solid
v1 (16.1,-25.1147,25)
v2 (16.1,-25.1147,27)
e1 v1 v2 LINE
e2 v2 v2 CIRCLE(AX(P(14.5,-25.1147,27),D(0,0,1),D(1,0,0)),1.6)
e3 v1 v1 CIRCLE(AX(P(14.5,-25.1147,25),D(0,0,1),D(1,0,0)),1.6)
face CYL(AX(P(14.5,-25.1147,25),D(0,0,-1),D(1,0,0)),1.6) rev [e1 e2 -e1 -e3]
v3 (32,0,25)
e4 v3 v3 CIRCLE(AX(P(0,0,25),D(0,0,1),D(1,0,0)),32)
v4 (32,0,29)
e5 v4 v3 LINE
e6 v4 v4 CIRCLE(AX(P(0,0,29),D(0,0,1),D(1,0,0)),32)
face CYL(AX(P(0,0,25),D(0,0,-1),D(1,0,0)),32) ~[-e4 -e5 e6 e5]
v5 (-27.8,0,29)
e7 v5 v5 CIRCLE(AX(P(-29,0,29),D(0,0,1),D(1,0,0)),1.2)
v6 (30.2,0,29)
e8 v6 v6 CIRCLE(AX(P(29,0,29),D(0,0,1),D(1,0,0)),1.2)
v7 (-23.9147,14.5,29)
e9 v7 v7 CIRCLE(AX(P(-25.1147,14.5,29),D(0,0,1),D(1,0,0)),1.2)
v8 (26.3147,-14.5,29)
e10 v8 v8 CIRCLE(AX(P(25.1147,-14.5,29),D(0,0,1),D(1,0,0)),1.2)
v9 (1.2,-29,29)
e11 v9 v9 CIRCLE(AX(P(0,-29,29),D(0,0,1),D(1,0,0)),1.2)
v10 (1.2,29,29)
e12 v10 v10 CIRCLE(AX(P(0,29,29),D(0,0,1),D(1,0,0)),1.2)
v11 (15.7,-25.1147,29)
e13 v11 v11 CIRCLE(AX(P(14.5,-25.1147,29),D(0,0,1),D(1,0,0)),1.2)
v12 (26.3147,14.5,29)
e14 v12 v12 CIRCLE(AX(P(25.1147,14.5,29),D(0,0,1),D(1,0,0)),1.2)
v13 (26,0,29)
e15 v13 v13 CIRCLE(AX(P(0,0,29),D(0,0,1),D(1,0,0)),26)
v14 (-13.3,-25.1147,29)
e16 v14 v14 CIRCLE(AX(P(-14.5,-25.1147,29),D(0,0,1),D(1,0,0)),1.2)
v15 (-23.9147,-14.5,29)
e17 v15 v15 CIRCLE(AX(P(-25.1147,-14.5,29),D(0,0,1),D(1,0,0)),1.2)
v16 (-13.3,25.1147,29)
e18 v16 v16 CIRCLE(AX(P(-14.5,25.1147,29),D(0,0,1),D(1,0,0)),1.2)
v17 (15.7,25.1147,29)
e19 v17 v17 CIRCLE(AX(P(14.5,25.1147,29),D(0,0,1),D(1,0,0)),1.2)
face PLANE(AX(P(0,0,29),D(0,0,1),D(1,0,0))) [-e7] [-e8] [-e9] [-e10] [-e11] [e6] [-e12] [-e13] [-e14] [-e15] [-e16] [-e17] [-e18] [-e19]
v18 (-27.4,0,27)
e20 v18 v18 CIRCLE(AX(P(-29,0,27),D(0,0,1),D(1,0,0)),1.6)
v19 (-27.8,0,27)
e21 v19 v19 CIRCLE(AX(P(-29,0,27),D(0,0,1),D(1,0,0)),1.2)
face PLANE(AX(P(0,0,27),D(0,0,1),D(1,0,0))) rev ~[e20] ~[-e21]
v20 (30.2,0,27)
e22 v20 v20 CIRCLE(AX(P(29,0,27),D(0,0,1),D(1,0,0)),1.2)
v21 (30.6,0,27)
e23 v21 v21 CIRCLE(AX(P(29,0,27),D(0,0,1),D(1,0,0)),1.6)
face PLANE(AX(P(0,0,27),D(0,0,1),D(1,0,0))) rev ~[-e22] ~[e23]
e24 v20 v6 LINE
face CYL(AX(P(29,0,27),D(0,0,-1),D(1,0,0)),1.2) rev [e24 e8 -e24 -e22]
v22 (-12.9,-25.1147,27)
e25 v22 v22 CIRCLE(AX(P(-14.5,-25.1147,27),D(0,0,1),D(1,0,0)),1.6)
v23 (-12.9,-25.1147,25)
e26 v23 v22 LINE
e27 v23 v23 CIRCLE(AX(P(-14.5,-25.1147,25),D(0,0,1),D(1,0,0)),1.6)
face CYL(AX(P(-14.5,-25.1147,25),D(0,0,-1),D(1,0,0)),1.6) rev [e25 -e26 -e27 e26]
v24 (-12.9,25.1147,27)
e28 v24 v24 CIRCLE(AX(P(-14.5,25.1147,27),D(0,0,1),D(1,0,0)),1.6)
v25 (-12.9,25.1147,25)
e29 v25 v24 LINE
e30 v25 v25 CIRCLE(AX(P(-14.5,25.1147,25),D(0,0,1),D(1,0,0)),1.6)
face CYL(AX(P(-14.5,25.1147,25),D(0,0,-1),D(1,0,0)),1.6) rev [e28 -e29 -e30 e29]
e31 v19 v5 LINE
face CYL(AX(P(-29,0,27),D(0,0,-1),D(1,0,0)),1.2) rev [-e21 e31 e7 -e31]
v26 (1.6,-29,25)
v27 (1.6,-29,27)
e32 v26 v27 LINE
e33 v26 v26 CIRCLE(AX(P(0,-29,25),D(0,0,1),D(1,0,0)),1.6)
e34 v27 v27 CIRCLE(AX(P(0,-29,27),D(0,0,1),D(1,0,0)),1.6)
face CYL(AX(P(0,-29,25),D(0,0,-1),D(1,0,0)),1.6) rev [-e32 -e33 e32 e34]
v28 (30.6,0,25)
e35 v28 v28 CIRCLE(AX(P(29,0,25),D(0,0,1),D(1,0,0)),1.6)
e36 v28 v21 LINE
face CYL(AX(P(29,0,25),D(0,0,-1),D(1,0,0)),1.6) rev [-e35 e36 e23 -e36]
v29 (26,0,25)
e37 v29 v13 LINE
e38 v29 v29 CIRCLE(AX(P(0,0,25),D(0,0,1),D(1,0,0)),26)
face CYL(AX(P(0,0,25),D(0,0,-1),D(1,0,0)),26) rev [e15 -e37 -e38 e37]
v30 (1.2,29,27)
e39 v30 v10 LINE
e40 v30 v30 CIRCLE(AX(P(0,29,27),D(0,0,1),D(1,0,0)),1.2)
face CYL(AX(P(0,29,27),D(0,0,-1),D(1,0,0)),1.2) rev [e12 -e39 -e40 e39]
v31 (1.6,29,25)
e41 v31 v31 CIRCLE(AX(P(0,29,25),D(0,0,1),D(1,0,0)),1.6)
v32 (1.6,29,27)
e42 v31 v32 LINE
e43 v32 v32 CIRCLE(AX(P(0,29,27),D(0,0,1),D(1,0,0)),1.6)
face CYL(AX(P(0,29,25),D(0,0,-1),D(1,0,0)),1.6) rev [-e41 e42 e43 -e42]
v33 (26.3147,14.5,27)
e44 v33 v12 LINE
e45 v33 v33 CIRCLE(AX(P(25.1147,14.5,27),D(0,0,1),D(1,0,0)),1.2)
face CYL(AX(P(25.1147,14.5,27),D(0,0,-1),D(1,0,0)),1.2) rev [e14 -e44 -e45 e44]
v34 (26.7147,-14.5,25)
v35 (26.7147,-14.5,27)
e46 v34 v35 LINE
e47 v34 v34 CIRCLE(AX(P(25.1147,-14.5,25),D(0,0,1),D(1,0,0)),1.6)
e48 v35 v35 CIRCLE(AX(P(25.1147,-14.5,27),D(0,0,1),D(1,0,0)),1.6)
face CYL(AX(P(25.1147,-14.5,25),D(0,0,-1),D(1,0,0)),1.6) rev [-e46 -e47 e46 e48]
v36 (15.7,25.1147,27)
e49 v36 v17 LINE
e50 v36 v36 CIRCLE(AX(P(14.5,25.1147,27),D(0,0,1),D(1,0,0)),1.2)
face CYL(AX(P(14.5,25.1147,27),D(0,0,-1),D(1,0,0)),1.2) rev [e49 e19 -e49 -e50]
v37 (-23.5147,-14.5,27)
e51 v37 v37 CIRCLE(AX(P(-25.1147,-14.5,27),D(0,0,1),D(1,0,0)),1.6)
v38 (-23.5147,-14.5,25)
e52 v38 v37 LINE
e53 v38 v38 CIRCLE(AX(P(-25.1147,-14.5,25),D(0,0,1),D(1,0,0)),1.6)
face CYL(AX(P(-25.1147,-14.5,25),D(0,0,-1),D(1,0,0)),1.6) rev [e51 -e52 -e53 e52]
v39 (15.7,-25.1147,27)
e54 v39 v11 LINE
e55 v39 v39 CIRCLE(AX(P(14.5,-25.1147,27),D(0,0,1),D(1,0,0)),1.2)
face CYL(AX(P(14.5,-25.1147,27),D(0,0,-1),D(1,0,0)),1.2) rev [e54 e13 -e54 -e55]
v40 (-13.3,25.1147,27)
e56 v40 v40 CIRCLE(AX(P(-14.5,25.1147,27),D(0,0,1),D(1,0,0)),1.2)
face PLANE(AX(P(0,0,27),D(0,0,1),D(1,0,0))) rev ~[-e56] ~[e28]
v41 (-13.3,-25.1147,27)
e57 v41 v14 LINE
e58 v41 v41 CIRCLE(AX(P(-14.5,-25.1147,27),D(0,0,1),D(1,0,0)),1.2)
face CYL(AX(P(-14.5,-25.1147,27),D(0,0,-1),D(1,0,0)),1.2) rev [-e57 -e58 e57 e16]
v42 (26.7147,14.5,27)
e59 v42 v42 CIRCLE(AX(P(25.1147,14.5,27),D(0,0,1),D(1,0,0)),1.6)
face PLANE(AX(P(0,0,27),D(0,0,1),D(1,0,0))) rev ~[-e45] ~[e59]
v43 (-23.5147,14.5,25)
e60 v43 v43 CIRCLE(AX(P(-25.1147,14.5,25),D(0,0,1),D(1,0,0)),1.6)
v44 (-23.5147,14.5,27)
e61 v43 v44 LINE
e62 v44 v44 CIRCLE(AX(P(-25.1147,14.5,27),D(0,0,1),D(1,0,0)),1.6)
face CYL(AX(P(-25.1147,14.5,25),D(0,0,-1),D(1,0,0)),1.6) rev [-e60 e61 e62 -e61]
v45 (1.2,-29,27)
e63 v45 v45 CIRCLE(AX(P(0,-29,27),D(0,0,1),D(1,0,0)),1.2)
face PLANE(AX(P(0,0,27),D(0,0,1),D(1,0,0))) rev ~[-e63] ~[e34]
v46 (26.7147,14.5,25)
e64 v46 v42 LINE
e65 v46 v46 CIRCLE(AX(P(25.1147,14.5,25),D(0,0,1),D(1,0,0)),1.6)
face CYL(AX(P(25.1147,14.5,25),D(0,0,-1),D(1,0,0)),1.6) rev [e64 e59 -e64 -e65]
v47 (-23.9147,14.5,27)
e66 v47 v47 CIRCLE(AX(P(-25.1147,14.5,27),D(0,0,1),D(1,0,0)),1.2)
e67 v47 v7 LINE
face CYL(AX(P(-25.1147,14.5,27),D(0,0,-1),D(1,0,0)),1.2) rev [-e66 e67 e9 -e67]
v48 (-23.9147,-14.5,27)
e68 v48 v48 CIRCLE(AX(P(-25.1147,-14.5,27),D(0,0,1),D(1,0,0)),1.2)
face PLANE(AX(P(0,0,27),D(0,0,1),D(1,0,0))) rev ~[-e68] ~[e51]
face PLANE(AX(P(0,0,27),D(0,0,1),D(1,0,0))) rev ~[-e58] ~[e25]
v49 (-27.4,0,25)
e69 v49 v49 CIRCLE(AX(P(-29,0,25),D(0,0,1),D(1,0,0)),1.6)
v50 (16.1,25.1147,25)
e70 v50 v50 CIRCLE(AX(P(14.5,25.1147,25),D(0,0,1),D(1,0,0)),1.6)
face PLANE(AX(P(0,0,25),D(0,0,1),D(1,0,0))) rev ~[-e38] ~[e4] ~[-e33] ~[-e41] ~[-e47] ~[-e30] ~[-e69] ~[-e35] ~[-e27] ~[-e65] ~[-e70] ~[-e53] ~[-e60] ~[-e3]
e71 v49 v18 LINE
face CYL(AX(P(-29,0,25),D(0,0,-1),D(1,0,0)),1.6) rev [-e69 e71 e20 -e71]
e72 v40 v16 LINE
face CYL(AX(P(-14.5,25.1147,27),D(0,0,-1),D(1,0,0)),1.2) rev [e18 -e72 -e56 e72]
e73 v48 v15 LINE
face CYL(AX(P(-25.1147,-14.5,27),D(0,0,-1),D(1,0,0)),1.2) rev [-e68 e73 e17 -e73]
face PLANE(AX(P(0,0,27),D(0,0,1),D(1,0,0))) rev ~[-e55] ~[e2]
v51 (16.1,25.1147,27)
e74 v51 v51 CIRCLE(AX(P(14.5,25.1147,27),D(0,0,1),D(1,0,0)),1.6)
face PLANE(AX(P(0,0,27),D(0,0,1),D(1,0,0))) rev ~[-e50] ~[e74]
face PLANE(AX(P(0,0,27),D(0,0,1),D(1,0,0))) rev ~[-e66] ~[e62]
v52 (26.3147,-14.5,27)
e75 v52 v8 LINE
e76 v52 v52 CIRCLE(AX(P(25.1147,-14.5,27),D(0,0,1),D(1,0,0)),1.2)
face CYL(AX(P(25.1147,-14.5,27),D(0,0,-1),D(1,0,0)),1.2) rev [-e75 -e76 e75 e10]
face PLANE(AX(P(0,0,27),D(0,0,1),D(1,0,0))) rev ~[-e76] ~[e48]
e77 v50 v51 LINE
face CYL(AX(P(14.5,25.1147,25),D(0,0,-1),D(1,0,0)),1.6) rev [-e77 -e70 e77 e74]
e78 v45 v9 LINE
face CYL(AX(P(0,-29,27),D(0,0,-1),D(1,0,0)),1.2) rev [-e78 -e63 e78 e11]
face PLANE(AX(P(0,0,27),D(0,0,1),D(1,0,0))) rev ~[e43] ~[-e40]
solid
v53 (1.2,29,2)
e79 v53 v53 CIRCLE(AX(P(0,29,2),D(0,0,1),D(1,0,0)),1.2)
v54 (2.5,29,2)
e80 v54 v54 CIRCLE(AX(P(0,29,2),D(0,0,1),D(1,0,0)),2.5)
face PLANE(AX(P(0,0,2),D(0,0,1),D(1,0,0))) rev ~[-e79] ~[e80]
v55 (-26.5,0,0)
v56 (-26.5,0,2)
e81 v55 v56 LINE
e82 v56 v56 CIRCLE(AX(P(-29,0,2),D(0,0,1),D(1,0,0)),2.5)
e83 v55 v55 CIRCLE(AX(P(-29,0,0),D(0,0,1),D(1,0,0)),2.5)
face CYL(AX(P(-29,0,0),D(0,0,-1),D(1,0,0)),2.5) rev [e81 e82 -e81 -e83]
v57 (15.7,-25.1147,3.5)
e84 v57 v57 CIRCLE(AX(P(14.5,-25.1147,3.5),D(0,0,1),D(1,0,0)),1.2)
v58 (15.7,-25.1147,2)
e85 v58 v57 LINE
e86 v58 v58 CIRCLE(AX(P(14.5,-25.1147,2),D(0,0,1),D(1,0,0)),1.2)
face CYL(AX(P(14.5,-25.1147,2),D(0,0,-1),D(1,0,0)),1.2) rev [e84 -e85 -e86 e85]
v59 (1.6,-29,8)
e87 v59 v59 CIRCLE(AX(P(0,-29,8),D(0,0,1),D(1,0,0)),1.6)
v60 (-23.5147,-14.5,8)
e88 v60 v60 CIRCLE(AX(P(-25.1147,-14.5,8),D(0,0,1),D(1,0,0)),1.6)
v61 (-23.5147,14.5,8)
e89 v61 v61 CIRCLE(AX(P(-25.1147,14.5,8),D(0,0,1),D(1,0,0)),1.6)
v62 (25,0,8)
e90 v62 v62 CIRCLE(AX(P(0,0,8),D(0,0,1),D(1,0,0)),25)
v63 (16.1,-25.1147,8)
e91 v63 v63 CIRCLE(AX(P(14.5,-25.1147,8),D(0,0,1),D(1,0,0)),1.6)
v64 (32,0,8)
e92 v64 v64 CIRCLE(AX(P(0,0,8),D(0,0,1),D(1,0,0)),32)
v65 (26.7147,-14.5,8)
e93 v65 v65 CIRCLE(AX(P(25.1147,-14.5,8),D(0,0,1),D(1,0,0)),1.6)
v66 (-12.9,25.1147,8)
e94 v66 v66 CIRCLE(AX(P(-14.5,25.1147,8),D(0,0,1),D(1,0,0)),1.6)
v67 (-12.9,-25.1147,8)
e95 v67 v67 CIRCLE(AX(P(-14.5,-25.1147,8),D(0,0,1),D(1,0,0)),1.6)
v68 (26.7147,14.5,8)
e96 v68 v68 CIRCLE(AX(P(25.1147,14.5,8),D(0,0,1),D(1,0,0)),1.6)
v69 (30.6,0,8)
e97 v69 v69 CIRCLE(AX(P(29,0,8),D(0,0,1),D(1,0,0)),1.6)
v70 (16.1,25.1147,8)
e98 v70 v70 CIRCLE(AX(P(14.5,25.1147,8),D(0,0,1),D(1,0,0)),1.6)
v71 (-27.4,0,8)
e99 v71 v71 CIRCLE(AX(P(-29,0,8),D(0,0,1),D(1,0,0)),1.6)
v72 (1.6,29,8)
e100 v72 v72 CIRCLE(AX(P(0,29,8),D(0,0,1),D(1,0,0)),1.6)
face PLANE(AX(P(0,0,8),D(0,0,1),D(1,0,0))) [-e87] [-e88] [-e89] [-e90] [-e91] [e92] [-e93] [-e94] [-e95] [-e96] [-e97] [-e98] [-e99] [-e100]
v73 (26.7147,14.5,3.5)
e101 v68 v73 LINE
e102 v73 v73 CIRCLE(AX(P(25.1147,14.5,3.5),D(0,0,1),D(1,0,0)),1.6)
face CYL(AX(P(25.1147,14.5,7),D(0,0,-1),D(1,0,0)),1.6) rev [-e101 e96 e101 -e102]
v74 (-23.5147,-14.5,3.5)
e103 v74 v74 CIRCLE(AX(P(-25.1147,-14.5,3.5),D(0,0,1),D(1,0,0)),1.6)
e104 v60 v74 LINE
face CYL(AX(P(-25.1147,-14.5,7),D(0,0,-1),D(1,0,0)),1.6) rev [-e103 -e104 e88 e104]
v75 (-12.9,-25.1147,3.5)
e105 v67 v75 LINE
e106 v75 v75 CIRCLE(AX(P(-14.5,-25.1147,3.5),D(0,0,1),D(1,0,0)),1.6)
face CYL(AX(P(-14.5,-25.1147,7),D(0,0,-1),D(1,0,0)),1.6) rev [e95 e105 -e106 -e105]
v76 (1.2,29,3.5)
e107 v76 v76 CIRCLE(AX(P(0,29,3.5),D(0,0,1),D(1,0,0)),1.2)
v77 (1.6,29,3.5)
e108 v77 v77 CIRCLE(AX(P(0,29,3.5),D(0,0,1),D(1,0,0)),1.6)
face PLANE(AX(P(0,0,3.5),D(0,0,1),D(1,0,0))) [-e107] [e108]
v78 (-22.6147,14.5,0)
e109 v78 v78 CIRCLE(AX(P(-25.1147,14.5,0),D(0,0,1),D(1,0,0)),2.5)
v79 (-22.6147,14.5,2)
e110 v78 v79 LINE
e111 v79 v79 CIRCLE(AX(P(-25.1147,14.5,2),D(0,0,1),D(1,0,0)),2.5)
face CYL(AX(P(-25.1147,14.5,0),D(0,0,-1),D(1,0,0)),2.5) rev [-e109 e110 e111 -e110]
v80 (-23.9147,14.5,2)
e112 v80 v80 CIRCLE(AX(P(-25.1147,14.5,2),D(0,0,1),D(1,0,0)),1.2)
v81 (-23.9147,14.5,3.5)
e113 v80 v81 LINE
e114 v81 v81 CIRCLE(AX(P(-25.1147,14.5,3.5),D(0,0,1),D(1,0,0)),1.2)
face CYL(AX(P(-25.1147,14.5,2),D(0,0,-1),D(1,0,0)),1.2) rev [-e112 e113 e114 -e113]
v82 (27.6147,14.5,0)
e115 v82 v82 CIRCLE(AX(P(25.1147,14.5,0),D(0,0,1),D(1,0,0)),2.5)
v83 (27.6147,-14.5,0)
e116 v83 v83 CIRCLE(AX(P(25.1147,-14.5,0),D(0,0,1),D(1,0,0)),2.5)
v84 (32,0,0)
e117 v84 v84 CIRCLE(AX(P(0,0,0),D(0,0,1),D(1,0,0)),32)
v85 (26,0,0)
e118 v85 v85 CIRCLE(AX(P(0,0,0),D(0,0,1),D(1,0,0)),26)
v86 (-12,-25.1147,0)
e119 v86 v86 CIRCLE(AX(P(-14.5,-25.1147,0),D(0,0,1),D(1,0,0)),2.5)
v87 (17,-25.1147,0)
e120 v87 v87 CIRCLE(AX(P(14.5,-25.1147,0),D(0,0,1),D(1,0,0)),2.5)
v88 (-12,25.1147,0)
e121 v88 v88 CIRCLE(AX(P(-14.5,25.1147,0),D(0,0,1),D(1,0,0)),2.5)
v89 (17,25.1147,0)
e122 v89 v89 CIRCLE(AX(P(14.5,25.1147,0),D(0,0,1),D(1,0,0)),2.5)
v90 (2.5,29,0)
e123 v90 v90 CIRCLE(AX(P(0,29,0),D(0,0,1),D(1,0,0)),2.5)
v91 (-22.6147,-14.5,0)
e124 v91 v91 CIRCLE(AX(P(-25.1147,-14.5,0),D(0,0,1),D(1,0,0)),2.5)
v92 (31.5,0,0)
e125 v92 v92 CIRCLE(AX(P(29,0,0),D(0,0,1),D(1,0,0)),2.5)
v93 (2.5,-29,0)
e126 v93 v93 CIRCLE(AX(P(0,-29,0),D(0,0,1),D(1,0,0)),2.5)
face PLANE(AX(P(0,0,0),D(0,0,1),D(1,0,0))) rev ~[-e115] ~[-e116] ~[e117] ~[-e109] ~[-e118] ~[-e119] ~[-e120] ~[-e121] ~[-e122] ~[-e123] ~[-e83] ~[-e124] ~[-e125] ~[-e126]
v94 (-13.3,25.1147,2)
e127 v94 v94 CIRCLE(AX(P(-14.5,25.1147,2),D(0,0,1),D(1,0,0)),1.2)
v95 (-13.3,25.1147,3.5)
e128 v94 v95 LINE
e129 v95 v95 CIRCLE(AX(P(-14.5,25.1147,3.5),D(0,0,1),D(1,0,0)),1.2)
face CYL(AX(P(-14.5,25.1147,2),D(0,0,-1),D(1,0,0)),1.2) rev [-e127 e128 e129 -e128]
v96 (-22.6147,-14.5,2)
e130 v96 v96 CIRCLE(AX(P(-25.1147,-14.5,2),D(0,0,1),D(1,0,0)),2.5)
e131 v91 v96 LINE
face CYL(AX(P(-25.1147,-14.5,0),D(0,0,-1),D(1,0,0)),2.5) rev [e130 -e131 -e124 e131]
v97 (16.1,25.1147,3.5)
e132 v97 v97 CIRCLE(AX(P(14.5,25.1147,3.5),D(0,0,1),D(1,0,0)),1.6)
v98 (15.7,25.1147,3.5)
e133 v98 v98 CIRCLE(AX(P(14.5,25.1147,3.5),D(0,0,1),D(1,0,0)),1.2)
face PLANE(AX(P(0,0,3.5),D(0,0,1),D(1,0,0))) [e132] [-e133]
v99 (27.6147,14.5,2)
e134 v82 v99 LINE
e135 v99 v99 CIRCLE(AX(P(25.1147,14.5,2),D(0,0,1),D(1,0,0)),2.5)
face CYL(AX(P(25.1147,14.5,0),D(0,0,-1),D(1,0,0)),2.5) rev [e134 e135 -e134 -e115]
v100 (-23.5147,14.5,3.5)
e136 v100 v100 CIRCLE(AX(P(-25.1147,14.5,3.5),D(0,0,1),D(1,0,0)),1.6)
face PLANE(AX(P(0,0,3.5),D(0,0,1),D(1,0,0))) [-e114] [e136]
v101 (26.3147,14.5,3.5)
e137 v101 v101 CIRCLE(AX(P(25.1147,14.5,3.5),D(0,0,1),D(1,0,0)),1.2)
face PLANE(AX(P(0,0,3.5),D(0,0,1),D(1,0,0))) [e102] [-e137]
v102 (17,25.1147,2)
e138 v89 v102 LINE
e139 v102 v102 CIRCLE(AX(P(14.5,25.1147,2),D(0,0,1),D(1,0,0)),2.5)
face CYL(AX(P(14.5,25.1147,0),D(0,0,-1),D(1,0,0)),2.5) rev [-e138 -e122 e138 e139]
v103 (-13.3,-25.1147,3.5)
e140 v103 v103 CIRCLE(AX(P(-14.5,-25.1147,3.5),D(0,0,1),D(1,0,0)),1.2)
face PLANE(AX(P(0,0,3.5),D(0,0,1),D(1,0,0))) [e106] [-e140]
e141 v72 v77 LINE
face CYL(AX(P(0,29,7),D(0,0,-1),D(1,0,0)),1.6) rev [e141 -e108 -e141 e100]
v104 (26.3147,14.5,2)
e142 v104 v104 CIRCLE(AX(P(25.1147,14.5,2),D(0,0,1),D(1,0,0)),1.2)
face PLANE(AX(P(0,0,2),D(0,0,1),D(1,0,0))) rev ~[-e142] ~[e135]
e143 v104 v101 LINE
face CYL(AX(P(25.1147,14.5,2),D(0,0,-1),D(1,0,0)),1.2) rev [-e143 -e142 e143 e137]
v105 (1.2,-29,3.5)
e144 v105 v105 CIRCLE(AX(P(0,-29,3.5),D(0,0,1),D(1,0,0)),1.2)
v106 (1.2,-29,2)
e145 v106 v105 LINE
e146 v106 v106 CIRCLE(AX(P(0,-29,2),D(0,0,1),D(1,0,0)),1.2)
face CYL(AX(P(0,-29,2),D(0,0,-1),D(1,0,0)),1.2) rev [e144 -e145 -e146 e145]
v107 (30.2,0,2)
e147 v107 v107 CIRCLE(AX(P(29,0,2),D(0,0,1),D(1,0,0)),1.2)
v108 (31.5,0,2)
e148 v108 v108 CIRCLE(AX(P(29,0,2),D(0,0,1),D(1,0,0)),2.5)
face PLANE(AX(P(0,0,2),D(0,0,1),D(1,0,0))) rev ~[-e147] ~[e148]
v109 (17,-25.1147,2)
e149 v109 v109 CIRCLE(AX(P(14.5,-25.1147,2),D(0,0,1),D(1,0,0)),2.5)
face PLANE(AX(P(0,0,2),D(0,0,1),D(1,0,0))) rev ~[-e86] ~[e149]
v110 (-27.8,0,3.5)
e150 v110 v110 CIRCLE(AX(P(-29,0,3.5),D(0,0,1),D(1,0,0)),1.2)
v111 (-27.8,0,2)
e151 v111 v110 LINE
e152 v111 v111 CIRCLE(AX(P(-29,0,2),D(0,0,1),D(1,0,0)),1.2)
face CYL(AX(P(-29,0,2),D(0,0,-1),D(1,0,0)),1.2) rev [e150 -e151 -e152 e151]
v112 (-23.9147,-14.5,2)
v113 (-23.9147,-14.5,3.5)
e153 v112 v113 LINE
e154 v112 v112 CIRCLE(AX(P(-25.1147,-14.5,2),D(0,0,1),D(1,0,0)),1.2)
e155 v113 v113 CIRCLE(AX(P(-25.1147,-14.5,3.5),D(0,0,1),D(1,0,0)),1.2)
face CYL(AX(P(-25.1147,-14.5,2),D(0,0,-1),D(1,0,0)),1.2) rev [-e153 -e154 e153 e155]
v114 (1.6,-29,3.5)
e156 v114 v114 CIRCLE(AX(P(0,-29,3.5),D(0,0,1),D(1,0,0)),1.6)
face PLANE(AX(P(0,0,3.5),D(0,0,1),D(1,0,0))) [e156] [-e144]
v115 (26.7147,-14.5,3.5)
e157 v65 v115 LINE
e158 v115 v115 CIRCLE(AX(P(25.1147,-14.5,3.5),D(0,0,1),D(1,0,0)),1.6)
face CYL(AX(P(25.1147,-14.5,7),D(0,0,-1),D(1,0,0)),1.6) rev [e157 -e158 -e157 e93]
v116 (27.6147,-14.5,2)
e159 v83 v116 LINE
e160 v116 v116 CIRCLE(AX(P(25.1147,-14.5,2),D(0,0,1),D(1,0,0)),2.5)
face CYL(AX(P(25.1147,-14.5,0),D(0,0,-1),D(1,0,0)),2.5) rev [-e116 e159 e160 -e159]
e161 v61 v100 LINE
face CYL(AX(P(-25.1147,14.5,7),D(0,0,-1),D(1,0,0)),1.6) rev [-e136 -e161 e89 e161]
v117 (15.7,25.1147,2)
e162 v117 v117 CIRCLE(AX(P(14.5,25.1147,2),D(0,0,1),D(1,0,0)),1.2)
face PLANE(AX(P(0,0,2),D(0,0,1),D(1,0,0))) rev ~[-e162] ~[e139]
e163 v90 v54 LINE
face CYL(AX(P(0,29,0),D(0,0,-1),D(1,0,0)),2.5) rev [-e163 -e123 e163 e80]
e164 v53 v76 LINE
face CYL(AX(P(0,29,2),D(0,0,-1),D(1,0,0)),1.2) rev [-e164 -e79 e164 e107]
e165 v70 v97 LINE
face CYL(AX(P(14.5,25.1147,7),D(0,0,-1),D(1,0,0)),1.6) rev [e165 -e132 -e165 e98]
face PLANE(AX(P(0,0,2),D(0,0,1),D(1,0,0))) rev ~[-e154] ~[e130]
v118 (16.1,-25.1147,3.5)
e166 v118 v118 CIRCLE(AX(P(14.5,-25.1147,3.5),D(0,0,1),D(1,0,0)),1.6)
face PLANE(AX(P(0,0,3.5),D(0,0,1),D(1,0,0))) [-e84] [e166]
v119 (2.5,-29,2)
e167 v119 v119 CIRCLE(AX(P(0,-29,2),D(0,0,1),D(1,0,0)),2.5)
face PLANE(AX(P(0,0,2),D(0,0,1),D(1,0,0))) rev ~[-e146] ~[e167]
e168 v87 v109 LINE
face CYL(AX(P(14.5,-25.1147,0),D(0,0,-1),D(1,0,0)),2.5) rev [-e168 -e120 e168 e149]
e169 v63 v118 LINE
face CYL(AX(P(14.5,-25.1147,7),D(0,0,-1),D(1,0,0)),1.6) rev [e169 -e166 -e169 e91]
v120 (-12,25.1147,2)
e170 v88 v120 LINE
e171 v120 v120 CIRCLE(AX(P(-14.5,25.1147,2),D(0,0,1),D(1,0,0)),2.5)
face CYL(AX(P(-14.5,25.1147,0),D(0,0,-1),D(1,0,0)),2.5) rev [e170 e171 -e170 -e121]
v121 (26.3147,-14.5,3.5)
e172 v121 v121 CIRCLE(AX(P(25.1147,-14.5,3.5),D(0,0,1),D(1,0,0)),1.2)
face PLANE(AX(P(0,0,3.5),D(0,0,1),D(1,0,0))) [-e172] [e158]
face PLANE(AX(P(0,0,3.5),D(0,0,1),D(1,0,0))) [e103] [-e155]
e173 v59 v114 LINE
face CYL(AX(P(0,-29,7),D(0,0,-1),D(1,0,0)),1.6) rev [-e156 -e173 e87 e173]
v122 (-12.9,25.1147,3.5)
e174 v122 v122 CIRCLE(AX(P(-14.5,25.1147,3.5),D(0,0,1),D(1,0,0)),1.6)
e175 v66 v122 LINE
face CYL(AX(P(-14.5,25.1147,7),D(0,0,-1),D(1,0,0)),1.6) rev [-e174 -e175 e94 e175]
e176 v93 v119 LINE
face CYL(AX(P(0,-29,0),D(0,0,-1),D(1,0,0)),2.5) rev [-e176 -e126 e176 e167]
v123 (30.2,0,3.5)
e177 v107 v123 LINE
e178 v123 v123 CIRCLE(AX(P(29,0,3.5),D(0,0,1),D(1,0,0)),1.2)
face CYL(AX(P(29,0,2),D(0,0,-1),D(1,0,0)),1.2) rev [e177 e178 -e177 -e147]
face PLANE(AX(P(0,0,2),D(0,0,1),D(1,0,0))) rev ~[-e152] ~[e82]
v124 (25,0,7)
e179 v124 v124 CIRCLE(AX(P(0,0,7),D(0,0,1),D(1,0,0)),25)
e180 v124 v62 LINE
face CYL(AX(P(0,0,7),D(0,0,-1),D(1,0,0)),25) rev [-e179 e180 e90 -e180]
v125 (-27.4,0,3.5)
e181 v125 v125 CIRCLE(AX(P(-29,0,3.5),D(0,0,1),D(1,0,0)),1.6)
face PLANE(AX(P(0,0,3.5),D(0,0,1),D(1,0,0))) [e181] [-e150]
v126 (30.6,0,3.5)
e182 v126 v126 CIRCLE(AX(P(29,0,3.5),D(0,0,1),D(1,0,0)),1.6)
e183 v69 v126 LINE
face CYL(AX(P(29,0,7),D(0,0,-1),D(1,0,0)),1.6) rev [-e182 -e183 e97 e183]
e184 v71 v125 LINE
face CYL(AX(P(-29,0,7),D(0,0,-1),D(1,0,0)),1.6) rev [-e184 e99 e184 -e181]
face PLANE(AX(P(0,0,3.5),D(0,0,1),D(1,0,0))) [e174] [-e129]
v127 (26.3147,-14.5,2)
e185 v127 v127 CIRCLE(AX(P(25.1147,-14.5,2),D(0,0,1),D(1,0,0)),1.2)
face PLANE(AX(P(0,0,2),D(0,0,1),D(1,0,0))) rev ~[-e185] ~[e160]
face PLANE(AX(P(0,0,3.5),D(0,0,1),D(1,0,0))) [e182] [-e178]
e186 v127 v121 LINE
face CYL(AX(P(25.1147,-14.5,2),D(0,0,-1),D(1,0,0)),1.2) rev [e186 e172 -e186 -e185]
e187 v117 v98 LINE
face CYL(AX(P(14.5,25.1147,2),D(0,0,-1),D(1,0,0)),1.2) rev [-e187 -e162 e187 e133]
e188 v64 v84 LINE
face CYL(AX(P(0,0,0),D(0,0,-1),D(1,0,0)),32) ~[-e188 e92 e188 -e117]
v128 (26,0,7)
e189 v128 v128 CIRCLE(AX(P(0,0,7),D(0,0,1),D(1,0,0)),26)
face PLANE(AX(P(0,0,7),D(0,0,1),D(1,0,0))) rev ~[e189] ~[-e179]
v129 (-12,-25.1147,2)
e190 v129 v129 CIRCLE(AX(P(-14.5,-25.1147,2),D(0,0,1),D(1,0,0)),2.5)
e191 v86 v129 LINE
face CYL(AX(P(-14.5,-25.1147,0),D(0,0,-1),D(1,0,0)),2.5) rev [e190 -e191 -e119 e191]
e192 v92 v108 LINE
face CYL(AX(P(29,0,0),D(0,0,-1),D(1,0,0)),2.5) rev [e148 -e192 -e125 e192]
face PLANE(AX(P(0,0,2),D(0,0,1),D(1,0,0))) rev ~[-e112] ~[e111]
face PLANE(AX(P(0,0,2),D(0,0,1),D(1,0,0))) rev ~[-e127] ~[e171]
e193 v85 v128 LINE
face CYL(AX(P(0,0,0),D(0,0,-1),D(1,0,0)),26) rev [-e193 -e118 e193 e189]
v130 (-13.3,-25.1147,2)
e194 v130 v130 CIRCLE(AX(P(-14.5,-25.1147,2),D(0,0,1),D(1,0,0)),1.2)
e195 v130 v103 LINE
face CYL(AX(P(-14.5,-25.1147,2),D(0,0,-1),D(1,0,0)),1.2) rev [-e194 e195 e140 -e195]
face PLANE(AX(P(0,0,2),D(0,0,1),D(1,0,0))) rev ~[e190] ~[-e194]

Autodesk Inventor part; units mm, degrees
ref_plane "YZ Plane" through (0, 0, 0) normal (1, 0, 0) x (0, 1, 0)
ref_plane "XZ Plane" through (0, 0, 0) normal (0, 1, 0) x (-1, 0, 0)
sketch "Skizze1" plane through (0, 0, 0) normal (0, 0, 1) x (1, 0, 0)
  circle A0 centre (0, 0) radius 29 construction
  line L0 (0, 44.8) -> (0, -44.8) construction
  line L1 (-44.8, 0) -> (44.8, 0) construction
  line L2 (0, 0) -> (-28.9685, 16.725) construction
  circle A1 centre (0, 29) radius 1.6
  circle A2 centre (-14.5, 25.1147) radius 1.6
  circle A3 centre (-25.1147, 14.5) radius 1.6
  circle A4 centre (-29, 0) radius 1.6
  circle A5 centre (-25.1147, -14.5) radius 1.6
  circle A6 centre (-14.5, -25.1147) radius 1.6
  circle A7 centre (0, -29) radius 1.6
  circle A8 centre (14.5, -25.1147) radius 1.6
  circle A9 centre (25.1147, -14.5) radius 1.6
  circle A10 centre (29, 0) radius 1.6
  circle A11 centre (25.1147, 14.5) radius 1.6
  circle A12 centre (0, 0) radius 32
  circle A13 centre (14.5, 25.1147) radius 1.6
  circle A14 centre (0, 0) radius 26
  circle A15 centre (0, 0) radius 26
  circle A16 centre (0, 0) radius 25
  circle A17 centre (0, 29) radius 1.2
  circle A18 centre (-14.5, 25.1147) radius 1.2
  circle A19 centre (-25.1147, 14.5) radius 1.2
  circle A20 centre (-29, 0) radius 1.2
  circle A21 centre (-25.1147, -14.5) radius 1.2
  circle A22 centre (-14.5, -25.1147) radius 1.2
  circle A23 centre (0, -29) radius 1.2
  circle A24 centre (14.5, -25.1147) radius 1.2
  circle A25 centre (25.1147, -14.5) radius 1.2
  circle A26 centre (29, 0) radius 1.2
  circle A27 centre (25.1147, 14.5) radius 1.2
  circle A28 centre (14.5, 25.1147) radius 1.2
  circle A29 centre (0, 29) radius 2.5
  circle A30 centre (-14.5, 25.1147) radius 2.5
  circle A31 centre (-25.1147, 14.5) radius 2.5
  circle A32 centre (-29, 0) radius 2.5
  circle A33 centre (-25.1147, -14.5) radius 2.5
  circle A34 centre (-14.5, -25.1147) radius 2.5
  circle A35 centre (0, -29) radius 2.5
  circle A36 centre (14.5, -25.1147) radius 2.5
  circle A37 centre (25.1147, -14.5) radius 2.5
  circle A38 centre (29, 0) radius 2.5
  circle A39 centre (25.1147, 14.5) radius 2.5
  circle A40 centre (14.5, 25.1147) radius 2.5
  dimension "d1" = 29
  dimension "d17" = 60
  dimension "d32" = 360
  dimension "d107" = 64
  dimension "d111" = 52
  dimension "d112" = 52
  dimension "d113" = 1
  dimension "d120" = 2.4
  dimension "d123" = 360
  dimension "d127" = 3.2
  dimension "d128" = 5
  dimension "d131" = 360
extrude "Extrusion1" add sketch "Skizze1" along normal blind 2 contours A12
extrude "Extrusion2" add sketch "Skizze1" along normal blind 1.5 from surface at 2 contours A1 | A2 | A3 | A4 | A5 | A6 | A7 | A8 | A9 | A10 | A11 | A12 | A13 | A29 | A30 | A31 | A32 | A33 | A34 | A35 | A36 | A37 | A38 | A39 | A40
extrude "Extrusion25" add sketch "Skizze1" along normal blind 3.5 from surface at 3.5 contours A12 | A29 | A30 | A31 | A32 | A33 | A34 | A35 | A36 | A37 | A38 | A39 | A40
extrude "Extrusion24" add sketch "Skizze1" along normal blind 1 from surface at 7 contours A12 | A14 | A29 | A30 | A31 | A32 | A33 | A34 | A35 | A36 | A37 | A38 | A39 | A40
ref_plane "Arbeitsebene1" through (0, 0, 25) normal (0, 0, 1) x (1, 0, 0)
extrude "Extrusion20" add sketch "Skizze1" along normal blind 2 from surface at 25 separate body contours A12 | A29 | A30 | A31 | A32 | A33 | A34 | A35 | A36 | A37 | A38 | A39 | A40
extrude "Extrusion21" add sketch "Skizze1" along normal blind 2 from surface at 27 contours A1 | A2 | A3 | A4 | A5 | A6 | A7 | A8 | A9 | A10 | A11 | A12 | A13 | A29 | A30 | A31 | A32 | A33 | A34 | A35 | A36 | A37 | A38 | A39 | A40 bodies 2
properties part number "Enclosure"
